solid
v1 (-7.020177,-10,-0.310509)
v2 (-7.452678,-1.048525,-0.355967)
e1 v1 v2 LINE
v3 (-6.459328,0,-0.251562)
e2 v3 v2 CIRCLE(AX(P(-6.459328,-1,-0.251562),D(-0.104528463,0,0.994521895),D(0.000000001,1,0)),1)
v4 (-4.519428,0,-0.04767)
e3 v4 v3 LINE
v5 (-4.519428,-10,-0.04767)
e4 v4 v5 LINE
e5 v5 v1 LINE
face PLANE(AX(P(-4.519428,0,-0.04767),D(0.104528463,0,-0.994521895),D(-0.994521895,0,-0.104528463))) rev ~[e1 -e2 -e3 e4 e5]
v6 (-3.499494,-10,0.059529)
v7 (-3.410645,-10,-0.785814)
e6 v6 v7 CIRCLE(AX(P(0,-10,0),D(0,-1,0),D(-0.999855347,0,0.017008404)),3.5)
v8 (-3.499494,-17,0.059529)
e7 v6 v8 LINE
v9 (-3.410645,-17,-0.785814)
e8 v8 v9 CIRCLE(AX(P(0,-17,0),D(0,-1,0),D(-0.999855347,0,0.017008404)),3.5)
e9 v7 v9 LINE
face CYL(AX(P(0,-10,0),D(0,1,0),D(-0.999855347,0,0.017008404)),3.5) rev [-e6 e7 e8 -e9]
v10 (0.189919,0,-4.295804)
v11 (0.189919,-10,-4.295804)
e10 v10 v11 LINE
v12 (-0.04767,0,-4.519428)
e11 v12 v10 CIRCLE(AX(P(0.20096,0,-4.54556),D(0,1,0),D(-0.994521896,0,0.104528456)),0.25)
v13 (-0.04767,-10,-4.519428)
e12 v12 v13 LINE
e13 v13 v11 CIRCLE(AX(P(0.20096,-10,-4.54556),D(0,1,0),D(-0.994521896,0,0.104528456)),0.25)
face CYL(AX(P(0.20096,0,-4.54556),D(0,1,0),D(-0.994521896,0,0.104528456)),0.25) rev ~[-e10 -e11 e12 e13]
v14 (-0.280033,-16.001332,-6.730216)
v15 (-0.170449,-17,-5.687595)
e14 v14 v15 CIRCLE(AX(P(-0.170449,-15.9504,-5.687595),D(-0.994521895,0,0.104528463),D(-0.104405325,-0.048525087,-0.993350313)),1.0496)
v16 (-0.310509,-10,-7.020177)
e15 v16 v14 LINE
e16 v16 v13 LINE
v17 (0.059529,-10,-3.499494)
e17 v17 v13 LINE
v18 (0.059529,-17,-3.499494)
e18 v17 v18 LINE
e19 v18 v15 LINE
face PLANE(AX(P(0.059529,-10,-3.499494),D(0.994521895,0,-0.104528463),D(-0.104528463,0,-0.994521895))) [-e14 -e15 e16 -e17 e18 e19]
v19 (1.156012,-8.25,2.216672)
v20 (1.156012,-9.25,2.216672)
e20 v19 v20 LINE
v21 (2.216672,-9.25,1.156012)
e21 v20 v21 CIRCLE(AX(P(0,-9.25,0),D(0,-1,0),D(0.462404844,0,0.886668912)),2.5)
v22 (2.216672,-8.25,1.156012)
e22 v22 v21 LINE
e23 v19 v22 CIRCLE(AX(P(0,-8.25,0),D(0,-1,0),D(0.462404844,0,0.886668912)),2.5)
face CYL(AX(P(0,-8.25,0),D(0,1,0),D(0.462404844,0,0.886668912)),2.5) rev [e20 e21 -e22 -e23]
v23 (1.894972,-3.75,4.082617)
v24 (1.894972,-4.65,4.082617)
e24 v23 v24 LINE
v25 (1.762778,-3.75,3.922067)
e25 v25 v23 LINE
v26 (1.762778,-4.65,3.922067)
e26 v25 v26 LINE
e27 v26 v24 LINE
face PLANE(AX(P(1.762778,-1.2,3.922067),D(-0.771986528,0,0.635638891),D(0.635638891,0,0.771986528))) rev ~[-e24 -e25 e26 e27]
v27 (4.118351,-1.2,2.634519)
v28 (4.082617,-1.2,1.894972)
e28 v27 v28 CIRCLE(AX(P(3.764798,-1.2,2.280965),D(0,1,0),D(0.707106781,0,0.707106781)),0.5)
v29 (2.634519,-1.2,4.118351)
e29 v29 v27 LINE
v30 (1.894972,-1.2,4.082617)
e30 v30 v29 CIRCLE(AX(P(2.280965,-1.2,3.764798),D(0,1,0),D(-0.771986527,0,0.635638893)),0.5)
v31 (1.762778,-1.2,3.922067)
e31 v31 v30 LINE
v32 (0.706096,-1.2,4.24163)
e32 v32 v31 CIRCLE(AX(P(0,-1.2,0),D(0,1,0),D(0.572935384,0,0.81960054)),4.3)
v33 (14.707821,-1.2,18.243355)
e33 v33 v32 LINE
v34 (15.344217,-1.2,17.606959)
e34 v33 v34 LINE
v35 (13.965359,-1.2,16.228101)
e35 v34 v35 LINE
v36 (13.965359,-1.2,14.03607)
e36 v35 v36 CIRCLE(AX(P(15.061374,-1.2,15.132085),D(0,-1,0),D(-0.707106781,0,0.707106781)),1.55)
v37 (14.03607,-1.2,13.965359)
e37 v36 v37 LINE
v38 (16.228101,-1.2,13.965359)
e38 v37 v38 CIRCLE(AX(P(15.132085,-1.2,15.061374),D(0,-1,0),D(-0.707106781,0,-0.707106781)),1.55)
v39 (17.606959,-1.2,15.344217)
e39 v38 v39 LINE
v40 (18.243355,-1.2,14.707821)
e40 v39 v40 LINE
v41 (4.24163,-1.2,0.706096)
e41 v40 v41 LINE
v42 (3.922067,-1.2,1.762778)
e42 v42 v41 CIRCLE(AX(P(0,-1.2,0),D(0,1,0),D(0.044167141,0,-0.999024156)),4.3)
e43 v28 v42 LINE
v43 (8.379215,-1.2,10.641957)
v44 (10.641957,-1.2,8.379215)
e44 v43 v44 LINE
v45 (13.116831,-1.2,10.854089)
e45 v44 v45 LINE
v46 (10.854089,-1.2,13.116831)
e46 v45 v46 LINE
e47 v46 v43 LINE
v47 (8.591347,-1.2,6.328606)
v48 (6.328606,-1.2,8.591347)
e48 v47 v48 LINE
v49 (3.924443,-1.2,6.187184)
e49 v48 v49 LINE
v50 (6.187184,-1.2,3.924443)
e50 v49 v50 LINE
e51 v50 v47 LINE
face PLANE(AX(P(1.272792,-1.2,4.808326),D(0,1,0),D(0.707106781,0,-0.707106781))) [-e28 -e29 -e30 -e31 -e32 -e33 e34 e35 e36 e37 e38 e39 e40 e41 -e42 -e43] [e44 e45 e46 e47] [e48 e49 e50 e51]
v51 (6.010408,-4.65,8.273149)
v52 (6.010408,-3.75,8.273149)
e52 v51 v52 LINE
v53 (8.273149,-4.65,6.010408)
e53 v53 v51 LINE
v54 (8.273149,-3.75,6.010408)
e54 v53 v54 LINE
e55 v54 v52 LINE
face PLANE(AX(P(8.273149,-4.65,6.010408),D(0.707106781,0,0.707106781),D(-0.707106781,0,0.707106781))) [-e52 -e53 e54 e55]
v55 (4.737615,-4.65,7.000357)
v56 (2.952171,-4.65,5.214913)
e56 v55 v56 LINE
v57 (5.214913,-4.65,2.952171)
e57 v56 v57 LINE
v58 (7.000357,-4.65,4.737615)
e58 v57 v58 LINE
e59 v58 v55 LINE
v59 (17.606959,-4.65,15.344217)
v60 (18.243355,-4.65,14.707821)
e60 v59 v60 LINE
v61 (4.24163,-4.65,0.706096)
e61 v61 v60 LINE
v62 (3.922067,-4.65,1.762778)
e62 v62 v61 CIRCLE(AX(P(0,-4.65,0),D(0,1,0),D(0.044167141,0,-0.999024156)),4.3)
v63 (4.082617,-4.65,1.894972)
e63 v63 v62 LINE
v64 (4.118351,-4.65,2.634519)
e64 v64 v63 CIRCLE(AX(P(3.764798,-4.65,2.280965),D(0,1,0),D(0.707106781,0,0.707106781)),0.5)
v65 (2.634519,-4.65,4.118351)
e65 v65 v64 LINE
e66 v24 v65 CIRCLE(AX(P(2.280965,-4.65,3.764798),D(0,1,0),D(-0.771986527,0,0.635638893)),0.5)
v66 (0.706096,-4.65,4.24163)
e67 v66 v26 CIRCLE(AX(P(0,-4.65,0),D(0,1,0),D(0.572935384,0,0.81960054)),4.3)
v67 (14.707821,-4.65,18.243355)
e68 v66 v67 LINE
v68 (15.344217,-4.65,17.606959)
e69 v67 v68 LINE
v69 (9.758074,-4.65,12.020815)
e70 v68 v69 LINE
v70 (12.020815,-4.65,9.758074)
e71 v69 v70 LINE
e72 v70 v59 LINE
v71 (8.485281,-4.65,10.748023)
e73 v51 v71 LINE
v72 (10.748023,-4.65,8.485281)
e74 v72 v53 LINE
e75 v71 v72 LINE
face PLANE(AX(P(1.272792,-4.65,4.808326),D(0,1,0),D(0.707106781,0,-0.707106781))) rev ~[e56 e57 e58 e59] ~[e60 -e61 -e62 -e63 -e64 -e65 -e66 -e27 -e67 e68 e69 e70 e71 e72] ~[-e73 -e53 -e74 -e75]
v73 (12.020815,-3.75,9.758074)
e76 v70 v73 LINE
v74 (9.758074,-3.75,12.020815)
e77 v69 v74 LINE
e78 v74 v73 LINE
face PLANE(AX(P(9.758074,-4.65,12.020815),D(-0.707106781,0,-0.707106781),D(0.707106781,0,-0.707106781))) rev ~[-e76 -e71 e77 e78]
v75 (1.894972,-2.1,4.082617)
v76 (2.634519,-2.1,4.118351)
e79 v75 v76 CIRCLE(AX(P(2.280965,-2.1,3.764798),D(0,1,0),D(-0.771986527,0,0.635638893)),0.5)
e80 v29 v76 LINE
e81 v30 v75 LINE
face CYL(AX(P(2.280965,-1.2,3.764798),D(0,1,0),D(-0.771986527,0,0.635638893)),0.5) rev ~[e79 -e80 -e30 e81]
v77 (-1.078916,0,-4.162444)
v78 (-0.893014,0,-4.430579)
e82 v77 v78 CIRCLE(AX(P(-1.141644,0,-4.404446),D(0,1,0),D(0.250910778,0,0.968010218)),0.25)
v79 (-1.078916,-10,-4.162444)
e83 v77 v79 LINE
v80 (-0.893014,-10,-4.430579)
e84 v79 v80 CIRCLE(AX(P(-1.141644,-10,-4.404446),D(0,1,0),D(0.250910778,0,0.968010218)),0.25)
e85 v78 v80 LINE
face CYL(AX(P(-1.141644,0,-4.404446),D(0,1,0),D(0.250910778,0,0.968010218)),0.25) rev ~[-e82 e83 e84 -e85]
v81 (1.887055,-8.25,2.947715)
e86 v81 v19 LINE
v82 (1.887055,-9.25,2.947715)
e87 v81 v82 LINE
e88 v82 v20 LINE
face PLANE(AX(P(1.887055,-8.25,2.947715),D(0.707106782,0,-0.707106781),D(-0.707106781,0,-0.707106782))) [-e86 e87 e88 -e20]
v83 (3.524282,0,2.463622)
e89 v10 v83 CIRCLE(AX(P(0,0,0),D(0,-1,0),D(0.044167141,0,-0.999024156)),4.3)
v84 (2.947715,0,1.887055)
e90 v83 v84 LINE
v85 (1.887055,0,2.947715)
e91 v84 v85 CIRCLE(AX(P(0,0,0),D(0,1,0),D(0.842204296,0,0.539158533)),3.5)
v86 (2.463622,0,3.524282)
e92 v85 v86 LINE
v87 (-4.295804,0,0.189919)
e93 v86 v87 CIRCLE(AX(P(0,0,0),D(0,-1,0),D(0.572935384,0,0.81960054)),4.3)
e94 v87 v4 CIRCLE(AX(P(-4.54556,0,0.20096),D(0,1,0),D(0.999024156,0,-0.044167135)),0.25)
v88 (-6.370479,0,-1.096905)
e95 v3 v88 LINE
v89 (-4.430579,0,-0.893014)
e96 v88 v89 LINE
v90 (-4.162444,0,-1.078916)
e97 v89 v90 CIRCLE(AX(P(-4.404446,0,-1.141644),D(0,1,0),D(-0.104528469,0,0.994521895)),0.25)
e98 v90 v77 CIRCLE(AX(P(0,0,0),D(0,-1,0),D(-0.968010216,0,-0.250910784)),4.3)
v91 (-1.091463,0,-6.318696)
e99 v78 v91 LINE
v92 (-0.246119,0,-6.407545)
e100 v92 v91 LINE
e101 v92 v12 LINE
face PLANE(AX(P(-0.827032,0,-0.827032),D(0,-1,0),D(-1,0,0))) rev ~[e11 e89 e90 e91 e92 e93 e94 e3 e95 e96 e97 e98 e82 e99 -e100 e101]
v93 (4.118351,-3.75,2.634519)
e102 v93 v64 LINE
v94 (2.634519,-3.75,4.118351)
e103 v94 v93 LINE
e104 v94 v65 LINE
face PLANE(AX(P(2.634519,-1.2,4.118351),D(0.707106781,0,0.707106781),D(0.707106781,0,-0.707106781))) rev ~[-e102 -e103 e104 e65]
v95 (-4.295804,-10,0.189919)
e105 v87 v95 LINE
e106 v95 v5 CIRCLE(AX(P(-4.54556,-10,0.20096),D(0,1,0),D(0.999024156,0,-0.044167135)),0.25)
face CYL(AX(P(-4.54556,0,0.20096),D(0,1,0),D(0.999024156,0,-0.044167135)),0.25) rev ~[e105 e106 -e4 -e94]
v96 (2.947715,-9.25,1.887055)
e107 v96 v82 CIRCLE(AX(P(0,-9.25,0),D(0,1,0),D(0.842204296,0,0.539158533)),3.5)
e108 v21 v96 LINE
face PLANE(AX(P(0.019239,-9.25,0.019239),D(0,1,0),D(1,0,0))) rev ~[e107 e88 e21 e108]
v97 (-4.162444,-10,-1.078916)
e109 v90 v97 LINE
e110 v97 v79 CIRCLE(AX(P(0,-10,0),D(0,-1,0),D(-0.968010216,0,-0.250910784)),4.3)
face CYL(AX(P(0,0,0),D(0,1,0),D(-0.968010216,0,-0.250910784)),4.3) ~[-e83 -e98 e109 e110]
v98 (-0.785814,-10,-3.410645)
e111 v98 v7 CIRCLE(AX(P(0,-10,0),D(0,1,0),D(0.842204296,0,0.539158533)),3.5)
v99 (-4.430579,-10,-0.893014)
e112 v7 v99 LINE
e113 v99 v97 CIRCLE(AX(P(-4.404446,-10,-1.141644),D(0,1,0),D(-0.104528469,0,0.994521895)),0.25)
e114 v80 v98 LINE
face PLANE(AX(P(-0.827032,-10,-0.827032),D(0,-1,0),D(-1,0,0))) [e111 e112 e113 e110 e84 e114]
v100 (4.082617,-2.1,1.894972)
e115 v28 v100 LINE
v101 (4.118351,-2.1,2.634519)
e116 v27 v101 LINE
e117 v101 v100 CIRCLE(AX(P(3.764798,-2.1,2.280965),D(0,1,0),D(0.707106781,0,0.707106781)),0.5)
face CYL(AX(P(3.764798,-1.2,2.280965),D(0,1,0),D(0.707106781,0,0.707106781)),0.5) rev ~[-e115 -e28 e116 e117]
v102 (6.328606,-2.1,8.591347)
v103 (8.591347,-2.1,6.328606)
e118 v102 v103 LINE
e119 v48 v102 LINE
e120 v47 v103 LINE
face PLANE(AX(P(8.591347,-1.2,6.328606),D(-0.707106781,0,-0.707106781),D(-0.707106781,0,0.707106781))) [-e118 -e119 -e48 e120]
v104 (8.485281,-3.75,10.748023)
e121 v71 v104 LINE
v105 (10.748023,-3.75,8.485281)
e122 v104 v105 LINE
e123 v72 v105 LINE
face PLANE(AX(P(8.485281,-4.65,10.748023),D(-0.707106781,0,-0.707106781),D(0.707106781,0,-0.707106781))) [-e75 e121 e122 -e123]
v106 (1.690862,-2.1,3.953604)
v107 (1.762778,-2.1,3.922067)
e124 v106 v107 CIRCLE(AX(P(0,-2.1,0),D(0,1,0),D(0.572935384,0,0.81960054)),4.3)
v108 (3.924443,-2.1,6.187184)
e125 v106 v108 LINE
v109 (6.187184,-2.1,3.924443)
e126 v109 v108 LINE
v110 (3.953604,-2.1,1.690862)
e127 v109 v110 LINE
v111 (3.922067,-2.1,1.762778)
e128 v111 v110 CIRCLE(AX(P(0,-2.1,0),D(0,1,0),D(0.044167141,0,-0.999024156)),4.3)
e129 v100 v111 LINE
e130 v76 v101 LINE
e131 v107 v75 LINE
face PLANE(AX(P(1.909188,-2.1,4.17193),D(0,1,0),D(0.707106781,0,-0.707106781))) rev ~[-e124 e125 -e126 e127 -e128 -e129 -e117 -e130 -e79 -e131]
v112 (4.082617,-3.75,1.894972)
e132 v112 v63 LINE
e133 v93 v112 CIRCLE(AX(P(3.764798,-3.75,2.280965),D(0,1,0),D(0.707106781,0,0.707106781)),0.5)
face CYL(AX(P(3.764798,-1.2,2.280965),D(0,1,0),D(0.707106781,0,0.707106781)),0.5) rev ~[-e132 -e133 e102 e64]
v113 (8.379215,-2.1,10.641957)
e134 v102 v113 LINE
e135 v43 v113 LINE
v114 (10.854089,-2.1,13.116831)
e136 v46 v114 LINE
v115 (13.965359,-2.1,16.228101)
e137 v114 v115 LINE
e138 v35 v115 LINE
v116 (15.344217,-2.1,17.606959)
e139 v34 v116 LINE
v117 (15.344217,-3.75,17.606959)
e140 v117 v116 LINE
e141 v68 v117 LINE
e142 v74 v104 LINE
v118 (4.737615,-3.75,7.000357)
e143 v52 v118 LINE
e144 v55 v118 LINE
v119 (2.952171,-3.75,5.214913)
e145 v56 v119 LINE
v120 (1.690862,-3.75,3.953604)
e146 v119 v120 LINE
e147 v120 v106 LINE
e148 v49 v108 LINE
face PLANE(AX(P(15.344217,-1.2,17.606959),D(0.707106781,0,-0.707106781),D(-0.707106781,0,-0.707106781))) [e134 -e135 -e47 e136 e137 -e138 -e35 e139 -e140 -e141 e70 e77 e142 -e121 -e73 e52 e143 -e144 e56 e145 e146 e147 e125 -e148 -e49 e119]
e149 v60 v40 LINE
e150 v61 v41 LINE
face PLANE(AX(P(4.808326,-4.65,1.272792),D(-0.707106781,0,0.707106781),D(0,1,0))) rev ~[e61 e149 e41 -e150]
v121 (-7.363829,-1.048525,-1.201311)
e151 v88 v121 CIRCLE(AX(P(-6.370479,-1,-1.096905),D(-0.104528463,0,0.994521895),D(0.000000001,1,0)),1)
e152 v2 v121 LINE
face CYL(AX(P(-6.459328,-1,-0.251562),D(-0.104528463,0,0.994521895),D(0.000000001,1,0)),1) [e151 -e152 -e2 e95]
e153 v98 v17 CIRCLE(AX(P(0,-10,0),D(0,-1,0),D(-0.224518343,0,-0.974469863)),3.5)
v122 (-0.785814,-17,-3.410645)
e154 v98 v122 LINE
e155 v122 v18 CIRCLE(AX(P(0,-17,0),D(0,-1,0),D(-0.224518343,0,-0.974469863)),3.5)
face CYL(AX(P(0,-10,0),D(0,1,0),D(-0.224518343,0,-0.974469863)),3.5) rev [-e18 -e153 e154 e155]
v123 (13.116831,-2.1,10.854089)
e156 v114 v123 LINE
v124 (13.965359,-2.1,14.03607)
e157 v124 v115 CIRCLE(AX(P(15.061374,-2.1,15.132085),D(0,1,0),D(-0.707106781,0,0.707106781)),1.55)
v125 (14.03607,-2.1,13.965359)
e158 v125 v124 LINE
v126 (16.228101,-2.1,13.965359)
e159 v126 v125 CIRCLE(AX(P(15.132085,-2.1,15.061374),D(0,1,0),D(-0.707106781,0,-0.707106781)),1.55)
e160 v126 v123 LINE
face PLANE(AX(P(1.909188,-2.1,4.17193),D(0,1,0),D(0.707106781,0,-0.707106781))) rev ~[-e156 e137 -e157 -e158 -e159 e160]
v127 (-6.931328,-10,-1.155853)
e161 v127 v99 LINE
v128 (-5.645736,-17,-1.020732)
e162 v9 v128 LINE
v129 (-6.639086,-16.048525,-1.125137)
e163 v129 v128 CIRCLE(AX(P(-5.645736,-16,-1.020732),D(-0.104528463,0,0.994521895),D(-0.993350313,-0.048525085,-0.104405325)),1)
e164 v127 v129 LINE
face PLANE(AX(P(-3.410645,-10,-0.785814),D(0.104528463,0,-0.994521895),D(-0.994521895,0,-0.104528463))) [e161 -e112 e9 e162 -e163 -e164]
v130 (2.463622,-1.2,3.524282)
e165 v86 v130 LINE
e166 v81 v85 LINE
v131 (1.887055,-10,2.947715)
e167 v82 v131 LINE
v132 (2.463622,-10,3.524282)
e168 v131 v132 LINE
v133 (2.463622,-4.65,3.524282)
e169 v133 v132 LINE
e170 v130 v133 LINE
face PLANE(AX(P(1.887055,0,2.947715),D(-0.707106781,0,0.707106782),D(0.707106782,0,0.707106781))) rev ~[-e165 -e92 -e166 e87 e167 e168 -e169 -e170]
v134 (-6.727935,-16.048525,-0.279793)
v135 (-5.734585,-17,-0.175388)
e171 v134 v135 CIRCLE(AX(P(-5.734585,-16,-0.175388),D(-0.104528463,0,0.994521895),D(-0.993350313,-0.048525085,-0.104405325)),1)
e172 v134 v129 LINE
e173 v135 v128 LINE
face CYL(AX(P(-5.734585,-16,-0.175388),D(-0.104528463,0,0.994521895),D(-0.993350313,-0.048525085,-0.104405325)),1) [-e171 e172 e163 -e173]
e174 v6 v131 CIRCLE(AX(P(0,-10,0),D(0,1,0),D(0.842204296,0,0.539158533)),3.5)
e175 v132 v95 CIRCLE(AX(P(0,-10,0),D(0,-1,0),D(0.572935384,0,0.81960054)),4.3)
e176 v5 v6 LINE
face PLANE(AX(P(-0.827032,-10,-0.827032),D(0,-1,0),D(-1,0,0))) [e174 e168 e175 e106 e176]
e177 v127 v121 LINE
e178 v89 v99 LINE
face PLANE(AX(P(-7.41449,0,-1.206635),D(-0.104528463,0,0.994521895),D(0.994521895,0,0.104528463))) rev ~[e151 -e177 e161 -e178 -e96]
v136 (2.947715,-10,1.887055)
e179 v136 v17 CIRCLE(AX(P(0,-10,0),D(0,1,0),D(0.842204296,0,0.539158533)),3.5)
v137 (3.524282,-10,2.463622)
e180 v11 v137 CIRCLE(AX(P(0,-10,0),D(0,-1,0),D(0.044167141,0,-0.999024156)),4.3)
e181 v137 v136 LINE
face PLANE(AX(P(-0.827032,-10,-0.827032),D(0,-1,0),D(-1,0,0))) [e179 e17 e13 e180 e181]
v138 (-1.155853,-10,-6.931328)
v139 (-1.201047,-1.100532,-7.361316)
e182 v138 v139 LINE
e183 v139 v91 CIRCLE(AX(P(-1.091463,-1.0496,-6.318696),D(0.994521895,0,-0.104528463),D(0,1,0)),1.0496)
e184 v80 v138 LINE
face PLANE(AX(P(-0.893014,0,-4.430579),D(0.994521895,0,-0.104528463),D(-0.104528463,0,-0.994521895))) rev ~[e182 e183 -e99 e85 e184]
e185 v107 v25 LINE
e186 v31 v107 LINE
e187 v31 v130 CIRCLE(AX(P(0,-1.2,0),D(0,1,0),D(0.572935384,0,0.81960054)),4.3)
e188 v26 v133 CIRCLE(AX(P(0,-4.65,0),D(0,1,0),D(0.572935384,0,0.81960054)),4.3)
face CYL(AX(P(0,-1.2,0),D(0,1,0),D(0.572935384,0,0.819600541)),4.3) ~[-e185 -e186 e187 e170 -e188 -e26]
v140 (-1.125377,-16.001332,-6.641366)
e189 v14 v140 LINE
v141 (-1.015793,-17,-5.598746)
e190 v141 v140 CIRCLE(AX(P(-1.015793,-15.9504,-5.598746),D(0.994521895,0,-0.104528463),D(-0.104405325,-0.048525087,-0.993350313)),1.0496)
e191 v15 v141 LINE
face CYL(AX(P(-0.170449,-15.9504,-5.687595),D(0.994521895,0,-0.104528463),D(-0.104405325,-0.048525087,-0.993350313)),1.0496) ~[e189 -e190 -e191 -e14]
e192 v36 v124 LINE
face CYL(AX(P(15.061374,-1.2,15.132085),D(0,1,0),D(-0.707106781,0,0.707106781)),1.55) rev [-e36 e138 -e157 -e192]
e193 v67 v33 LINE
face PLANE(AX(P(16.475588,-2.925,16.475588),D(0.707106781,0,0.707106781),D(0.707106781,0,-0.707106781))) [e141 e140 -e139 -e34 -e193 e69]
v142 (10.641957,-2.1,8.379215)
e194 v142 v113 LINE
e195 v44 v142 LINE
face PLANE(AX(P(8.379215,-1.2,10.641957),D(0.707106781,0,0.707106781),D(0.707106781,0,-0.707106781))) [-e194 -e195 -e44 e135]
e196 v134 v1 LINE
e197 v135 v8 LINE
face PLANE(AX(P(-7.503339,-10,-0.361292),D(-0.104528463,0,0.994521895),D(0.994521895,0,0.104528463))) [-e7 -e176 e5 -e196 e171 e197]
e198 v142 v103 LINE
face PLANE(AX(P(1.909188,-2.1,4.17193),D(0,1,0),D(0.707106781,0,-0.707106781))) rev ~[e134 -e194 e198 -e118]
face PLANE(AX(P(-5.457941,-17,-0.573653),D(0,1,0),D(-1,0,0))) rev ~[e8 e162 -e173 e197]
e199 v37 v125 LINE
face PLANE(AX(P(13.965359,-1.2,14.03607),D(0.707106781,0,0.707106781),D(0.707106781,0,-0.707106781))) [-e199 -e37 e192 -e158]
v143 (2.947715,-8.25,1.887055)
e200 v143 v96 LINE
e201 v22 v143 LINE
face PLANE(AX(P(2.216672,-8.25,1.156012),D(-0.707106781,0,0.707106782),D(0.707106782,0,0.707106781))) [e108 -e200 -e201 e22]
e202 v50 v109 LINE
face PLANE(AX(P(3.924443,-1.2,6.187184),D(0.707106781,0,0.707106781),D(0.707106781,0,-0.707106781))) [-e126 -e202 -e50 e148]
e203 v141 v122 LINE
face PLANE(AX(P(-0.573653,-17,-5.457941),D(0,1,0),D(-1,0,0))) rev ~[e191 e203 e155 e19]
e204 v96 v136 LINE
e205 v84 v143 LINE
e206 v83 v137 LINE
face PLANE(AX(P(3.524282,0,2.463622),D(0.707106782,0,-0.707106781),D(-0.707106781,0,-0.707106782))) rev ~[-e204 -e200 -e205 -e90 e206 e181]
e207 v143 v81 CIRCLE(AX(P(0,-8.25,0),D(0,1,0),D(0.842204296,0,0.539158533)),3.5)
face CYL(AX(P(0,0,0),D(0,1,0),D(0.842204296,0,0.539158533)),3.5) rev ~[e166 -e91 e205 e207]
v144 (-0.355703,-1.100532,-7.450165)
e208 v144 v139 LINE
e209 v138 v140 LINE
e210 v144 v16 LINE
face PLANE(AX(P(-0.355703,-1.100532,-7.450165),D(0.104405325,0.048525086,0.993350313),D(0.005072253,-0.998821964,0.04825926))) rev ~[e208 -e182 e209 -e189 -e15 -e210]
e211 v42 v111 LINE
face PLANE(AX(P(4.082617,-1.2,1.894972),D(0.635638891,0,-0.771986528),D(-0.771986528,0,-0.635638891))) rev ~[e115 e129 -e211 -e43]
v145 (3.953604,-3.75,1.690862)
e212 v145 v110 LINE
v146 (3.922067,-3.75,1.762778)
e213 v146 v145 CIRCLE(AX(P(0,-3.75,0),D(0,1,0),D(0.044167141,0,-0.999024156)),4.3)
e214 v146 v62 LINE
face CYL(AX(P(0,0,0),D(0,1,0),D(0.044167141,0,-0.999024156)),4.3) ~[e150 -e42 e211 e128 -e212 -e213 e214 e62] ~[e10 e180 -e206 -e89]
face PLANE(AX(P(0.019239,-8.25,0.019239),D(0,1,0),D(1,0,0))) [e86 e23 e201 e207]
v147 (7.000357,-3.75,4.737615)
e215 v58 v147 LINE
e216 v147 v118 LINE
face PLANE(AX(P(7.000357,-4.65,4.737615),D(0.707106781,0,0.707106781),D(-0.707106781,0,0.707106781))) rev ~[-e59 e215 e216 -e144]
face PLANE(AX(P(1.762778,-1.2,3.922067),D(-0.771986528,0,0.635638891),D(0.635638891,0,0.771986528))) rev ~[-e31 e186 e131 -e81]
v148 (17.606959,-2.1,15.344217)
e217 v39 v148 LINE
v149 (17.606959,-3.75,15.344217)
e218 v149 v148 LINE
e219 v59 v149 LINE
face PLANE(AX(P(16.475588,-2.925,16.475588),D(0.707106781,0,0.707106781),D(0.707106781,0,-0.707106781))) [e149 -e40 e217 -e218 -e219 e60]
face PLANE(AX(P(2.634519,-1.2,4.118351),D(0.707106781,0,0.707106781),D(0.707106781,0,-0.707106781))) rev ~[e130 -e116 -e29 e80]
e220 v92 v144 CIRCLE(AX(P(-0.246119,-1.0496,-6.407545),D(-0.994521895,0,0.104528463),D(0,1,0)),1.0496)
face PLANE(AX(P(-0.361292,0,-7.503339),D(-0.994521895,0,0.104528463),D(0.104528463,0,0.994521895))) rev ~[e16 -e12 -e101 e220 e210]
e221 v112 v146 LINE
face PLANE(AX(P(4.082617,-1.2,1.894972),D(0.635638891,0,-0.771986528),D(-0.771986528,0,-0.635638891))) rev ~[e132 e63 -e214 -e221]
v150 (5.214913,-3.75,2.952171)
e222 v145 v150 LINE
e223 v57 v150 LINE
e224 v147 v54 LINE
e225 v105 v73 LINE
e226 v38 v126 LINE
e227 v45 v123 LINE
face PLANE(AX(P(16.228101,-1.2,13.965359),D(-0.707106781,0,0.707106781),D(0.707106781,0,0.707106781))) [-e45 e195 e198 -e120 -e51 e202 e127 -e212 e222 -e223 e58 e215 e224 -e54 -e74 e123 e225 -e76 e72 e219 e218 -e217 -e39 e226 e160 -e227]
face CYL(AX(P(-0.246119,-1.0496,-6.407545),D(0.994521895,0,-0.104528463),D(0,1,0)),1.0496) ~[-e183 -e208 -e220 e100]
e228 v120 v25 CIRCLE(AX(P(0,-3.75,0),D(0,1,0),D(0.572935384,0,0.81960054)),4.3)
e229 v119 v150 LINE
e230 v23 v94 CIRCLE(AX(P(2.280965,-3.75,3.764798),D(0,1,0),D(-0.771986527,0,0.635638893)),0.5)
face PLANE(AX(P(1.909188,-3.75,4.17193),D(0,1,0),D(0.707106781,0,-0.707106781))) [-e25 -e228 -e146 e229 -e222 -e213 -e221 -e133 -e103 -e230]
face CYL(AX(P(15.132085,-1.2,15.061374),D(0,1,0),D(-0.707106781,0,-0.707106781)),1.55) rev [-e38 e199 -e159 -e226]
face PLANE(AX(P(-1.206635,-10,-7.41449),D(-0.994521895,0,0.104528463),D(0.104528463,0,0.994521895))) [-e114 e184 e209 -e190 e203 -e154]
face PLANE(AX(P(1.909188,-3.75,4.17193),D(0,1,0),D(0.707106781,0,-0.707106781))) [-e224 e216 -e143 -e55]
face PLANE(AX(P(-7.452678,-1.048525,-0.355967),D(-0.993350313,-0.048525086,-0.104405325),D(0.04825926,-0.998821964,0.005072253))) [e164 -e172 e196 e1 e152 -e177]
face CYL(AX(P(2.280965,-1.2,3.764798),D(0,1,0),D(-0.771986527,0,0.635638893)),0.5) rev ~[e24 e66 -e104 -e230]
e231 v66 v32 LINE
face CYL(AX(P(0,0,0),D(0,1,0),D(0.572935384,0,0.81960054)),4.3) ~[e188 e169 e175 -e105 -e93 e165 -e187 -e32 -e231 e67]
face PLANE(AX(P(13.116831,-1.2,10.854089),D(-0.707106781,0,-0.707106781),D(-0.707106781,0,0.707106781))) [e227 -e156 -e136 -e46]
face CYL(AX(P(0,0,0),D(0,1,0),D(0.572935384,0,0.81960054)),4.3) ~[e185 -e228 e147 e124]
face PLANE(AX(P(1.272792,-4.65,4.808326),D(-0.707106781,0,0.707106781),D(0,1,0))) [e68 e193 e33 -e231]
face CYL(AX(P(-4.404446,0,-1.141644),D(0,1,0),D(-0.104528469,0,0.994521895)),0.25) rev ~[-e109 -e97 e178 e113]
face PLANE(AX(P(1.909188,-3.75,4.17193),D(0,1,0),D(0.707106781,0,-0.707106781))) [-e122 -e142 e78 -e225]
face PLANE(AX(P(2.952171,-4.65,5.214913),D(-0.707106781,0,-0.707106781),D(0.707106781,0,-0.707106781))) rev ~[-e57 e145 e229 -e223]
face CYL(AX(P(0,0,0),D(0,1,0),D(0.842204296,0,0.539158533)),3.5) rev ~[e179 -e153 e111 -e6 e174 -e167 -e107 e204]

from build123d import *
from build123d.topology import SkipClean

# Parameters (mm, degrees)
BOSS_EXTRUDE1_DEPTH             = 10
BOSS_EXTRUDE2_DEPTH             = 1
BOSS_EXTRUDE3_DEPTH             = 7
CUT_EXTRUDE1_REACH              = 22.186
CUT_EXTRUDE2_REACH              = 22.166
BOSS_EXTRUDE4_REACH             = 24.566
BOSS_EXTRUDE4_END_RADIUS        = 3.5
SKETCH6_W                       = 5
SKETCH6_H                       = 3.45
SKETCH6_W_2                     = 3.2
SKETCH6_H_2                     = 1.65
BOSS_EXTRUDE4_DIRECTION_2_DEPTH = 19
CUT_EXTRUDE3_REACH              = 32.254
CUT_EXTRUDE4_REACH              = 32.254
CUT_EXTRUDE5_REACH              = 30.604


with BuildPart() as part:
    # Sketch1 → Boss-Extrude1 (new body)
    with BuildSketch(Plane(origin=(0, 0, 0), x_dir=(1, 0, 0), z_dir=(0, 1, 0))):
        with BuildLine():
            Line((-7.414489618, 1.20663528), (-4.430578599, 0.893013594))
            ThreePointArc((-4.430578599, 0.893013594), (-4.262003609, 0.936193276), (-4.162443929, 1.078916372))
            ThreePointArc((-4.162443929, 1.078916372), (-3.040559159, 3.040559159), (-1.078916372, 4.162443929))
            ThreePointArc((-1.078916372, 4.162443929), (-0.936193276, 4.262003609), (-0.893013594, 4.430578599))
            Line((-0.893013594, 4.430578599), (-1.20663528, 7.414489618))
            Line((-1.20663528, 7.414489618), (-0.361291669, 7.503338812))
            Line((-0.361291669, 7.503338812), (-0.047669983, 4.519427793))
            ThreePointArc((-0.047669983, 4.519427793), (0.02961483, 4.363514132), (0.189918705, 4.29580387))
            ThreePointArc((0.189918705, 4.29580387), (3.856330167, 1.902292734), (3.524282323, -2.463622152))
            Line((3.524282323, -2.463622152), (2.947715037, -1.887054865))
            ThreePointArc((2.947715037, -1.887054865), (-2.474873734, 2.474873734), (1.887054865, -2.947715037))
            Line((1.887054865, -2.947715037), (2.463622152, -3.524282323))
            ThreePointArc((2.463622152, -3.524282323), (-1.902292734, -3.856330167), (-4.29580387, -0.189918705))
            ThreePointArc((-4.29580387, -0.189918705), (-4.363514132, -0.02961483), (-4.519427793, 0.047669983))
            Line((-4.519427793, 0.047669983), (-7.503338812, 0.361291669))
            Line((-7.503338812, 0.361291669), (-7.414489618, 1.20663528))
        make_face()
    extrude(amount=-BOSS_EXTRUDE1_DEPTH)

    # Sketch2 → Boss-Extrude2 (add)
    with BuildSketch(Plane(origin=(0, -8.25, 0), x_dir=(-1, 0, 0), z_dir=(0, -1, 0))):
        with BuildLine():
            Line((-1.887054865, -2.947715037), (-1.15601211, -2.216672281))
            ThreePointArc((-1.15601211, -2.216672281), (1.767766953, 1.767766953), (-2.216672281, -1.15601211))
            Line((-2.216672281, -1.15601211), (-2.947715037, -1.887054865))
            ThreePointArc((-2.947715037, -1.887054865), (2.474873734, 2.474873734), (-1.887054865, -2.947715037))
        make_face()
    extrude(amount=BOSS_EXTRUDE2_DEPTH)

    # Sketch3 → Boss-Extrude3 (add)
    with SkipClean():  # the faces are left unmerged after this step: merging them gives an invalid solid
        with BuildSketch(Plane.XZ.offset(10)):
            with BuildLine():
                Line((-7.503338812, -0.361291669), (-3.499493713, 0.059529408))
                ThreePointArc((-3.499493713, 0.059529408), (-3.480826634, -0.365849621), (-3.41064452, -0.785814203))
                Line((-3.41064452, -0.785814203), (-7.414489618, -1.20663528))
                Line((-7.414489618, -1.20663528), (-7.503338812, -0.361291669))
            make_face()
            with BuildLine():
                Line((-1.20663528, -7.414489618), (-0.785814203, -3.41064452))
                ThreePointArc((-0.785814203, -3.41064452), (-0.365849621, -3.480826634), (0.059529408, -3.499493713))
                Line((0.059529408, -3.499493713), (-0.361291669, -7.503338812))
                Line((-0.361291669, -7.503338812), (-1.20663528, -7.414489618))
            make_face()
        extrude(amount=BOSS_EXTRUDE3_DEPTH)

    # Sketch4 → Cut-Extrude1 (cut, up to next)
    with BuildSketch(Plane(origin=(-0.044424597, 0, 0.422671806), x_dir=(0.9945218953682731, 0, 0.10452846326765693), z_dir=(-0.10452846326765693, 0, 0.9945218953682731)), mode=Mode.PRIVATE) as cut_extrude1_sk1:
        with BuildLine():
            Line((-4.499652764, 0), (-6.450238257, 0))
            ThreePointArc((-6.450238257, 0), (-7.174298022, -0.310262762), (-7.449060221, -1.048525086))
            Line((-7.449060221, -1.048525086), (-6.720325459, -16.048525086))
            ThreePointArc((-6.720325459, -16.048525086), (-6.411240733, -16.724059765), (-5.721503495, -17))
            Line((-5.721503495, -17), (-3.474100603, -17))
            Line((-3.474100603, -17), (-3.474100603, -18.237576525))
            Line((-3.474100603, -18.237576525), (-8.636241127, -18.237576525))
            Line((-8.636241127, -18.237576525), (-8.636241127, 0.642542217))
            Line((-8.636241127, 0.642542217), (-4.499652764, 0.642542217))
            Line((-4.499652764, 0.642542217), (-4.499652764, 0))
        make_face()
    cut_extrude1_tool1 = extrude(cut_extrude1_sk1.sketch, amount=-CUT_EXTRUDE1_REACH, mode=Mode.PRIVATE) & part.part
    add(cut_extrude1_tool1.solids().sort_by_distance((-7.422183, -10.016233, -0.352762))[0], mode=Mode.SUBTRACT)

    # Sketch5 → Cut-Extrude2 (cut, up to next)
    with BuildSketch(Plane(origin=(0.422671806, 0, -0.044424597), x_dir=(-0.10452846326764693, 0, -0.9945218953682741), z_dir=(0.9945218953682741, 0, -0.10452846326764693)), mode=Mode.PRIVATE) as cut_extrude2_sk1:
        with BuildLine():
            Line((4.499652764, 0), (6.39817036, 0))
            ThreePointArc((6.39817036, 0), (7.158143292, -0.325651711), (7.446533622, -1.100531645))
            Line((7.446533622, -1.100531645), (6.7226182, -16.001332189))
            ThreePointArc((6.7226182, -16.001332189), (6.398202955, -16.710373204), (5.674254938, -17))
            Line((5.674254938, -17), (3.474100603, -17))
            Line((3.474100603, -17), (3.474100603, -17.961134023))
            Line((3.474100603, -17.961134023), (9.689471059, -17.961134023))
            Line((9.689471059, -17.961134023), (9.520710585, 0.644708136))
            Line((9.520710585, 0.644708136), (4.499652764, 0.644708136))
            Line((4.499652764, 0.644708136), (4.499652764, 0))
        make_face()
    cut_extrude2_tool1 = extrude(cut_extrude2_sk1.sketch, amount=-CUT_EXTRUDE2_REACH, mode=Mode.PRIVATE) & part.part
    add(cut_extrude2_tool1.solids().sort_by_distance((-0.417746, -9.418745, -8.040463))[0], mode=Mode.SUBTRACT)

    # Boss-Extrude4: up to this cylinder (the profile starts outside it)
    with SkipClean():  # the faces are left unmerged after this step: merging them gives an invalid solid
        boss_extrude4_end = Plane(origin=(0, -1.260747, 0), z_dir=(0, 1, 0)) * Cylinder(BOSS_EXTRUDE4_END_RADIUS, 57.132, mode=Mode.PRIVATE)
        # Sketch6 → Boss-Extrude4 (add, up to the surface)
        with BuildSketch(Plane(origin=(3.040559159, 0, 3.040559159), x_dir=(0.7071067811865511, 0, -0.707106781186544), z_dir=(0.707106781186544, 0, 0.7071067811865511)), mode=Mode.PRIVATE) as boss_extrude4_sk1:
            with Locations((0, -2.925)):
                Rectangle(SKETCH6_W, SKETCH6_H)
            with Locations((0, -2.925)):
                Rectangle(SKETCH6_W_2, SKETCH6_H_2, mode=Mode.SUBTRACT)
        boss_extrude4_tool1 = extrude(boss_extrude4_sk1.sketch, amount=-BOSS_EXTRUDE4_REACH, mode=Mode.PRIVATE) - boss_extrude4_end
        add(boss_extrude4_tool1.solids().sort_by_distance((3.040559, -1.260747, 3.040559))[0])

    # Sketch6 → Boss-Extrude4 direction 2 (add)
    with SkipClean():  # the faces are left unmerged after this step: merging them gives an invalid solid
        with BuildSketch(Plane(origin=(3.040559159, 0, 3.040559159), x_dir=(0.7071067811865511, 0, -0.707106781186544), z_dir=(0.707106781186544, 0, 0.7071067811865511))):
            with Locations((0, -2.925)):
                Rectangle(SKETCH6_W, SKETCH6_H)
            with Locations((0, -2.925)):
                Rectangle(SKETCH6_W_2, SKETCH6_H_2, mode=Mode.SUBTRACT)
        extrude(amount=BOSS_EXTRUDE4_DIRECTION_2_DEPTH)

    # Sketch7 → Cut-Extrude3 (cut, up to next)
    with BuildSketch(Plane(origin=(0, -1.2, 0), x_dir=(1, 0, 0), z_dir=(0, 1, 0)), mode=Mode.PRIVATE) as cut_extrude3_sk1:
        with BuildLine():
            Line((15.344217152, -17.606958852), (13.965358928, -16.228100628))
            ThreePointArc((13.965358928, -16.228100628), (13.511374439, -15.132085117), (13.965358928, -14.036069607))
            Line((13.965358928, -14.036069607), (14.036069607, -13.965358928))
            ThreePointArc((14.036069607, -13.965358928), (15.132085117, -13.511374439), (16.228100628, -13.965358928))
            Line((16.228100628, -13.965358928), (17.606958852, -15.344217152))
            Line((17.606958852, -15.344217152), (15.344217152, -17.606958852))
        make_face()
    cut_extrude3_tool1 = extrude(cut_extrude3_sk1.sketch, amount=-CUT_EXTRUDE3_REACH, mode=Mode.PRIVATE) & part.part
    # Sketch7 → Cut-Extrude3 (cut, up to next)
    with BuildSketch(Plane(origin=(0, -1.2, 0), x_dir=(1, 0, 0), z_dir=(0, 1, 0)), mode=Mode.PRIVATE) as cut_extrude3_sk2:
        Polygon((8.379215357, -10.641957057), (10.641957057, -8.379215357), (13.116830791, -10.854089091), (10.854089091, -13.116830791), align=None)
    cut_extrude3_tool2 = extrude(cut_extrude3_sk2.sketch, amount=-CUT_EXTRUDE3_REACH, mode=Mode.PRIVATE) & part.part
    # Sketch7 → Cut-Extrude3 (cut, up to next)
    with BuildSketch(Plane(origin=(0, -1.2, 0), x_dir=(1, 0, 0), z_dir=(0, 1, 0)), mode=Mode.PRIVATE) as cut_extrude3_sk3:
        Polygon((3.924442636, -6.187184335), (6.187184335, -3.924442636), (8.591347391, -6.328605692), (6.328605692, -8.591347391), align=None)
    cut_extrude3_tool3 = extrude(cut_extrude3_sk3.sketch, amount=-CUT_EXTRUDE3_REACH, mode=Mode.PRIVATE) & part.part
    add(cut_extrude3_tool1.solids().sort_by_distance((15.338807, -1.2, 15.338807))[0], mode=Mode.SUBTRACT)
    add(cut_extrude3_tool2.solids().sort_by_distance((10.748023, -1.2, 10.748023))[0], mode=Mode.SUBTRACT)
    add(cut_extrude3_tool3.solids().sort_by_distance((6.257895, -1.2, 6.257895))[0], mode=Mode.SUBTRACT)

    # Cut-Extrude4: up to this face of the body (flat: up to its plane)
    cut_extrude4_end = Plane(part.part.faces().sort_by_distance((9.75807358, -4.65, 9.75807358))[0])
    # Sketch8 → Cut-Extrude4 (cut, up to the picked face)
    with BuildSketch(Plane(origin=(0, -1.2, 0), x_dir=(1, 0, 0), z_dir=(0, 1, 0)), mode=Mode.PRIVATE) as cut_extrude4_sk1:
        with BuildLine():
            Line((1.887054865, -2.947715037), (2.463622152, -3.524282323))
            ThreePointArc((2.463622152, -3.524282323), (2.122539393, -3.739629196), (1.762778319, -3.922067388))
            Line((1.762778319, -3.922067388), (1.894971957, -4.082617205))
            ThreePointArc((1.894971957, -4.082617205), (2.256834016, -4.264215104), (2.634518611, -4.118351149))
            Line((2.634518611, -4.118351149), (4.118351149, -2.634518611))
            ThreePointArc((4.118351149, -2.634518611), (4.264215104, -2.256834016), (4.082617205, -1.894971957))
            Line((4.082617205, -1.894971957), (3.922067388, -1.762778319))
            ThreePointArc((3.922067388, -1.762778319), (3.739629196, -2.122539393), (3.524282323, -2.463622152))
            Line((3.524282323, -2.463622152), (2.947715037, -1.887054865))
            ThreePointArc((2.947715037, -1.887054865), (2.474873734, -2.474873734), (1.887054865, -2.947715037))
        make_face()
    cut_extrude4_tool1 = split(extrude(cut_extrude4_sk1.sketch, amount=-CUT_EXTRUDE4_REACH, mode=Mode.PRIVATE), bisect_by=cut_extrude4_end, keep=Keep.BOTH, mode=Mode.PRIVATE)
    add(cut_extrude4_tool1.solids().sort_by(Axis((2.984609, -1.2, 2.984609), (0, -1, 0)))[0], mode=Mode.SUBTRACT)

    # Sketch9 → Cut-Extrude5 (cut, up to next)
    with BuildSketch(Plane.XZ.offset(4.65), mode=Mode.PRIVATE) as cut_extrude5_sk1:
        Polygon((9.75807358, 12.02081528), (12.02081528, 9.75807358), (17.606958852, 15.344217152), (15.344217152, 17.606958852), align=None)
    cut_extrude5_tool1 = extrude(cut_extrude5_sk1.sketch, amount=-CUT_EXTRUDE5_REACH, mode=Mode.PRIVATE) & part.part
    # Sketch9 → Cut-Extrude5 (cut, up to next)
    with BuildSketch(Plane.XZ.offset(4.65), mode=Mode.PRIVATE) as cut_extrude5_sk2:
        Polygon((8.485281374, 10.748023074), (10.748023074, 8.485281374), (8.27314934, 6.01040764), (6.01040764, 8.27314934), align=None)
    cut_extrude5_tool2 = extrude(cut_extrude5_sk2.sketch, amount=-CUT_EXTRUDE5_REACH, mode=Mode.PRIVATE) & part.part
    # Sketch9 → Cut-Extrude5 (cut, up to next)
    with BuildSketch(Plane.XZ.offset(4.65), mode=Mode.PRIVATE) as cut_extrude5_sk3:
        Polygon((2.952170811, 5.214912511), (5.214912511, 2.952170811), (7.000357134, 4.737615434), (4.737615434, 7.000357134), align=None)
    cut_extrude5_tool3 = extrude(cut_extrude5_sk3.sketch, amount=-CUT_EXTRUDE5_REACH, mode=Mode.PRIVATE) & part.part
    add(cut_extrude5_tool1.solids().sort_by_distance((13.682516, -4.65, 13.682516))[0], mode=Mode.SUBTRACT)
    add(cut_extrude5_tool2.solids().sort_by_distance((8.379215, -4.65, 8.379215))[0], mode=Mode.SUBTRACT)
    add(cut_extrude5_tool3.solids().sort_by_distance((4.976264, -4.65, 4.976264))[0], mode=Mode.SUBTRACT)


solid = part.part
